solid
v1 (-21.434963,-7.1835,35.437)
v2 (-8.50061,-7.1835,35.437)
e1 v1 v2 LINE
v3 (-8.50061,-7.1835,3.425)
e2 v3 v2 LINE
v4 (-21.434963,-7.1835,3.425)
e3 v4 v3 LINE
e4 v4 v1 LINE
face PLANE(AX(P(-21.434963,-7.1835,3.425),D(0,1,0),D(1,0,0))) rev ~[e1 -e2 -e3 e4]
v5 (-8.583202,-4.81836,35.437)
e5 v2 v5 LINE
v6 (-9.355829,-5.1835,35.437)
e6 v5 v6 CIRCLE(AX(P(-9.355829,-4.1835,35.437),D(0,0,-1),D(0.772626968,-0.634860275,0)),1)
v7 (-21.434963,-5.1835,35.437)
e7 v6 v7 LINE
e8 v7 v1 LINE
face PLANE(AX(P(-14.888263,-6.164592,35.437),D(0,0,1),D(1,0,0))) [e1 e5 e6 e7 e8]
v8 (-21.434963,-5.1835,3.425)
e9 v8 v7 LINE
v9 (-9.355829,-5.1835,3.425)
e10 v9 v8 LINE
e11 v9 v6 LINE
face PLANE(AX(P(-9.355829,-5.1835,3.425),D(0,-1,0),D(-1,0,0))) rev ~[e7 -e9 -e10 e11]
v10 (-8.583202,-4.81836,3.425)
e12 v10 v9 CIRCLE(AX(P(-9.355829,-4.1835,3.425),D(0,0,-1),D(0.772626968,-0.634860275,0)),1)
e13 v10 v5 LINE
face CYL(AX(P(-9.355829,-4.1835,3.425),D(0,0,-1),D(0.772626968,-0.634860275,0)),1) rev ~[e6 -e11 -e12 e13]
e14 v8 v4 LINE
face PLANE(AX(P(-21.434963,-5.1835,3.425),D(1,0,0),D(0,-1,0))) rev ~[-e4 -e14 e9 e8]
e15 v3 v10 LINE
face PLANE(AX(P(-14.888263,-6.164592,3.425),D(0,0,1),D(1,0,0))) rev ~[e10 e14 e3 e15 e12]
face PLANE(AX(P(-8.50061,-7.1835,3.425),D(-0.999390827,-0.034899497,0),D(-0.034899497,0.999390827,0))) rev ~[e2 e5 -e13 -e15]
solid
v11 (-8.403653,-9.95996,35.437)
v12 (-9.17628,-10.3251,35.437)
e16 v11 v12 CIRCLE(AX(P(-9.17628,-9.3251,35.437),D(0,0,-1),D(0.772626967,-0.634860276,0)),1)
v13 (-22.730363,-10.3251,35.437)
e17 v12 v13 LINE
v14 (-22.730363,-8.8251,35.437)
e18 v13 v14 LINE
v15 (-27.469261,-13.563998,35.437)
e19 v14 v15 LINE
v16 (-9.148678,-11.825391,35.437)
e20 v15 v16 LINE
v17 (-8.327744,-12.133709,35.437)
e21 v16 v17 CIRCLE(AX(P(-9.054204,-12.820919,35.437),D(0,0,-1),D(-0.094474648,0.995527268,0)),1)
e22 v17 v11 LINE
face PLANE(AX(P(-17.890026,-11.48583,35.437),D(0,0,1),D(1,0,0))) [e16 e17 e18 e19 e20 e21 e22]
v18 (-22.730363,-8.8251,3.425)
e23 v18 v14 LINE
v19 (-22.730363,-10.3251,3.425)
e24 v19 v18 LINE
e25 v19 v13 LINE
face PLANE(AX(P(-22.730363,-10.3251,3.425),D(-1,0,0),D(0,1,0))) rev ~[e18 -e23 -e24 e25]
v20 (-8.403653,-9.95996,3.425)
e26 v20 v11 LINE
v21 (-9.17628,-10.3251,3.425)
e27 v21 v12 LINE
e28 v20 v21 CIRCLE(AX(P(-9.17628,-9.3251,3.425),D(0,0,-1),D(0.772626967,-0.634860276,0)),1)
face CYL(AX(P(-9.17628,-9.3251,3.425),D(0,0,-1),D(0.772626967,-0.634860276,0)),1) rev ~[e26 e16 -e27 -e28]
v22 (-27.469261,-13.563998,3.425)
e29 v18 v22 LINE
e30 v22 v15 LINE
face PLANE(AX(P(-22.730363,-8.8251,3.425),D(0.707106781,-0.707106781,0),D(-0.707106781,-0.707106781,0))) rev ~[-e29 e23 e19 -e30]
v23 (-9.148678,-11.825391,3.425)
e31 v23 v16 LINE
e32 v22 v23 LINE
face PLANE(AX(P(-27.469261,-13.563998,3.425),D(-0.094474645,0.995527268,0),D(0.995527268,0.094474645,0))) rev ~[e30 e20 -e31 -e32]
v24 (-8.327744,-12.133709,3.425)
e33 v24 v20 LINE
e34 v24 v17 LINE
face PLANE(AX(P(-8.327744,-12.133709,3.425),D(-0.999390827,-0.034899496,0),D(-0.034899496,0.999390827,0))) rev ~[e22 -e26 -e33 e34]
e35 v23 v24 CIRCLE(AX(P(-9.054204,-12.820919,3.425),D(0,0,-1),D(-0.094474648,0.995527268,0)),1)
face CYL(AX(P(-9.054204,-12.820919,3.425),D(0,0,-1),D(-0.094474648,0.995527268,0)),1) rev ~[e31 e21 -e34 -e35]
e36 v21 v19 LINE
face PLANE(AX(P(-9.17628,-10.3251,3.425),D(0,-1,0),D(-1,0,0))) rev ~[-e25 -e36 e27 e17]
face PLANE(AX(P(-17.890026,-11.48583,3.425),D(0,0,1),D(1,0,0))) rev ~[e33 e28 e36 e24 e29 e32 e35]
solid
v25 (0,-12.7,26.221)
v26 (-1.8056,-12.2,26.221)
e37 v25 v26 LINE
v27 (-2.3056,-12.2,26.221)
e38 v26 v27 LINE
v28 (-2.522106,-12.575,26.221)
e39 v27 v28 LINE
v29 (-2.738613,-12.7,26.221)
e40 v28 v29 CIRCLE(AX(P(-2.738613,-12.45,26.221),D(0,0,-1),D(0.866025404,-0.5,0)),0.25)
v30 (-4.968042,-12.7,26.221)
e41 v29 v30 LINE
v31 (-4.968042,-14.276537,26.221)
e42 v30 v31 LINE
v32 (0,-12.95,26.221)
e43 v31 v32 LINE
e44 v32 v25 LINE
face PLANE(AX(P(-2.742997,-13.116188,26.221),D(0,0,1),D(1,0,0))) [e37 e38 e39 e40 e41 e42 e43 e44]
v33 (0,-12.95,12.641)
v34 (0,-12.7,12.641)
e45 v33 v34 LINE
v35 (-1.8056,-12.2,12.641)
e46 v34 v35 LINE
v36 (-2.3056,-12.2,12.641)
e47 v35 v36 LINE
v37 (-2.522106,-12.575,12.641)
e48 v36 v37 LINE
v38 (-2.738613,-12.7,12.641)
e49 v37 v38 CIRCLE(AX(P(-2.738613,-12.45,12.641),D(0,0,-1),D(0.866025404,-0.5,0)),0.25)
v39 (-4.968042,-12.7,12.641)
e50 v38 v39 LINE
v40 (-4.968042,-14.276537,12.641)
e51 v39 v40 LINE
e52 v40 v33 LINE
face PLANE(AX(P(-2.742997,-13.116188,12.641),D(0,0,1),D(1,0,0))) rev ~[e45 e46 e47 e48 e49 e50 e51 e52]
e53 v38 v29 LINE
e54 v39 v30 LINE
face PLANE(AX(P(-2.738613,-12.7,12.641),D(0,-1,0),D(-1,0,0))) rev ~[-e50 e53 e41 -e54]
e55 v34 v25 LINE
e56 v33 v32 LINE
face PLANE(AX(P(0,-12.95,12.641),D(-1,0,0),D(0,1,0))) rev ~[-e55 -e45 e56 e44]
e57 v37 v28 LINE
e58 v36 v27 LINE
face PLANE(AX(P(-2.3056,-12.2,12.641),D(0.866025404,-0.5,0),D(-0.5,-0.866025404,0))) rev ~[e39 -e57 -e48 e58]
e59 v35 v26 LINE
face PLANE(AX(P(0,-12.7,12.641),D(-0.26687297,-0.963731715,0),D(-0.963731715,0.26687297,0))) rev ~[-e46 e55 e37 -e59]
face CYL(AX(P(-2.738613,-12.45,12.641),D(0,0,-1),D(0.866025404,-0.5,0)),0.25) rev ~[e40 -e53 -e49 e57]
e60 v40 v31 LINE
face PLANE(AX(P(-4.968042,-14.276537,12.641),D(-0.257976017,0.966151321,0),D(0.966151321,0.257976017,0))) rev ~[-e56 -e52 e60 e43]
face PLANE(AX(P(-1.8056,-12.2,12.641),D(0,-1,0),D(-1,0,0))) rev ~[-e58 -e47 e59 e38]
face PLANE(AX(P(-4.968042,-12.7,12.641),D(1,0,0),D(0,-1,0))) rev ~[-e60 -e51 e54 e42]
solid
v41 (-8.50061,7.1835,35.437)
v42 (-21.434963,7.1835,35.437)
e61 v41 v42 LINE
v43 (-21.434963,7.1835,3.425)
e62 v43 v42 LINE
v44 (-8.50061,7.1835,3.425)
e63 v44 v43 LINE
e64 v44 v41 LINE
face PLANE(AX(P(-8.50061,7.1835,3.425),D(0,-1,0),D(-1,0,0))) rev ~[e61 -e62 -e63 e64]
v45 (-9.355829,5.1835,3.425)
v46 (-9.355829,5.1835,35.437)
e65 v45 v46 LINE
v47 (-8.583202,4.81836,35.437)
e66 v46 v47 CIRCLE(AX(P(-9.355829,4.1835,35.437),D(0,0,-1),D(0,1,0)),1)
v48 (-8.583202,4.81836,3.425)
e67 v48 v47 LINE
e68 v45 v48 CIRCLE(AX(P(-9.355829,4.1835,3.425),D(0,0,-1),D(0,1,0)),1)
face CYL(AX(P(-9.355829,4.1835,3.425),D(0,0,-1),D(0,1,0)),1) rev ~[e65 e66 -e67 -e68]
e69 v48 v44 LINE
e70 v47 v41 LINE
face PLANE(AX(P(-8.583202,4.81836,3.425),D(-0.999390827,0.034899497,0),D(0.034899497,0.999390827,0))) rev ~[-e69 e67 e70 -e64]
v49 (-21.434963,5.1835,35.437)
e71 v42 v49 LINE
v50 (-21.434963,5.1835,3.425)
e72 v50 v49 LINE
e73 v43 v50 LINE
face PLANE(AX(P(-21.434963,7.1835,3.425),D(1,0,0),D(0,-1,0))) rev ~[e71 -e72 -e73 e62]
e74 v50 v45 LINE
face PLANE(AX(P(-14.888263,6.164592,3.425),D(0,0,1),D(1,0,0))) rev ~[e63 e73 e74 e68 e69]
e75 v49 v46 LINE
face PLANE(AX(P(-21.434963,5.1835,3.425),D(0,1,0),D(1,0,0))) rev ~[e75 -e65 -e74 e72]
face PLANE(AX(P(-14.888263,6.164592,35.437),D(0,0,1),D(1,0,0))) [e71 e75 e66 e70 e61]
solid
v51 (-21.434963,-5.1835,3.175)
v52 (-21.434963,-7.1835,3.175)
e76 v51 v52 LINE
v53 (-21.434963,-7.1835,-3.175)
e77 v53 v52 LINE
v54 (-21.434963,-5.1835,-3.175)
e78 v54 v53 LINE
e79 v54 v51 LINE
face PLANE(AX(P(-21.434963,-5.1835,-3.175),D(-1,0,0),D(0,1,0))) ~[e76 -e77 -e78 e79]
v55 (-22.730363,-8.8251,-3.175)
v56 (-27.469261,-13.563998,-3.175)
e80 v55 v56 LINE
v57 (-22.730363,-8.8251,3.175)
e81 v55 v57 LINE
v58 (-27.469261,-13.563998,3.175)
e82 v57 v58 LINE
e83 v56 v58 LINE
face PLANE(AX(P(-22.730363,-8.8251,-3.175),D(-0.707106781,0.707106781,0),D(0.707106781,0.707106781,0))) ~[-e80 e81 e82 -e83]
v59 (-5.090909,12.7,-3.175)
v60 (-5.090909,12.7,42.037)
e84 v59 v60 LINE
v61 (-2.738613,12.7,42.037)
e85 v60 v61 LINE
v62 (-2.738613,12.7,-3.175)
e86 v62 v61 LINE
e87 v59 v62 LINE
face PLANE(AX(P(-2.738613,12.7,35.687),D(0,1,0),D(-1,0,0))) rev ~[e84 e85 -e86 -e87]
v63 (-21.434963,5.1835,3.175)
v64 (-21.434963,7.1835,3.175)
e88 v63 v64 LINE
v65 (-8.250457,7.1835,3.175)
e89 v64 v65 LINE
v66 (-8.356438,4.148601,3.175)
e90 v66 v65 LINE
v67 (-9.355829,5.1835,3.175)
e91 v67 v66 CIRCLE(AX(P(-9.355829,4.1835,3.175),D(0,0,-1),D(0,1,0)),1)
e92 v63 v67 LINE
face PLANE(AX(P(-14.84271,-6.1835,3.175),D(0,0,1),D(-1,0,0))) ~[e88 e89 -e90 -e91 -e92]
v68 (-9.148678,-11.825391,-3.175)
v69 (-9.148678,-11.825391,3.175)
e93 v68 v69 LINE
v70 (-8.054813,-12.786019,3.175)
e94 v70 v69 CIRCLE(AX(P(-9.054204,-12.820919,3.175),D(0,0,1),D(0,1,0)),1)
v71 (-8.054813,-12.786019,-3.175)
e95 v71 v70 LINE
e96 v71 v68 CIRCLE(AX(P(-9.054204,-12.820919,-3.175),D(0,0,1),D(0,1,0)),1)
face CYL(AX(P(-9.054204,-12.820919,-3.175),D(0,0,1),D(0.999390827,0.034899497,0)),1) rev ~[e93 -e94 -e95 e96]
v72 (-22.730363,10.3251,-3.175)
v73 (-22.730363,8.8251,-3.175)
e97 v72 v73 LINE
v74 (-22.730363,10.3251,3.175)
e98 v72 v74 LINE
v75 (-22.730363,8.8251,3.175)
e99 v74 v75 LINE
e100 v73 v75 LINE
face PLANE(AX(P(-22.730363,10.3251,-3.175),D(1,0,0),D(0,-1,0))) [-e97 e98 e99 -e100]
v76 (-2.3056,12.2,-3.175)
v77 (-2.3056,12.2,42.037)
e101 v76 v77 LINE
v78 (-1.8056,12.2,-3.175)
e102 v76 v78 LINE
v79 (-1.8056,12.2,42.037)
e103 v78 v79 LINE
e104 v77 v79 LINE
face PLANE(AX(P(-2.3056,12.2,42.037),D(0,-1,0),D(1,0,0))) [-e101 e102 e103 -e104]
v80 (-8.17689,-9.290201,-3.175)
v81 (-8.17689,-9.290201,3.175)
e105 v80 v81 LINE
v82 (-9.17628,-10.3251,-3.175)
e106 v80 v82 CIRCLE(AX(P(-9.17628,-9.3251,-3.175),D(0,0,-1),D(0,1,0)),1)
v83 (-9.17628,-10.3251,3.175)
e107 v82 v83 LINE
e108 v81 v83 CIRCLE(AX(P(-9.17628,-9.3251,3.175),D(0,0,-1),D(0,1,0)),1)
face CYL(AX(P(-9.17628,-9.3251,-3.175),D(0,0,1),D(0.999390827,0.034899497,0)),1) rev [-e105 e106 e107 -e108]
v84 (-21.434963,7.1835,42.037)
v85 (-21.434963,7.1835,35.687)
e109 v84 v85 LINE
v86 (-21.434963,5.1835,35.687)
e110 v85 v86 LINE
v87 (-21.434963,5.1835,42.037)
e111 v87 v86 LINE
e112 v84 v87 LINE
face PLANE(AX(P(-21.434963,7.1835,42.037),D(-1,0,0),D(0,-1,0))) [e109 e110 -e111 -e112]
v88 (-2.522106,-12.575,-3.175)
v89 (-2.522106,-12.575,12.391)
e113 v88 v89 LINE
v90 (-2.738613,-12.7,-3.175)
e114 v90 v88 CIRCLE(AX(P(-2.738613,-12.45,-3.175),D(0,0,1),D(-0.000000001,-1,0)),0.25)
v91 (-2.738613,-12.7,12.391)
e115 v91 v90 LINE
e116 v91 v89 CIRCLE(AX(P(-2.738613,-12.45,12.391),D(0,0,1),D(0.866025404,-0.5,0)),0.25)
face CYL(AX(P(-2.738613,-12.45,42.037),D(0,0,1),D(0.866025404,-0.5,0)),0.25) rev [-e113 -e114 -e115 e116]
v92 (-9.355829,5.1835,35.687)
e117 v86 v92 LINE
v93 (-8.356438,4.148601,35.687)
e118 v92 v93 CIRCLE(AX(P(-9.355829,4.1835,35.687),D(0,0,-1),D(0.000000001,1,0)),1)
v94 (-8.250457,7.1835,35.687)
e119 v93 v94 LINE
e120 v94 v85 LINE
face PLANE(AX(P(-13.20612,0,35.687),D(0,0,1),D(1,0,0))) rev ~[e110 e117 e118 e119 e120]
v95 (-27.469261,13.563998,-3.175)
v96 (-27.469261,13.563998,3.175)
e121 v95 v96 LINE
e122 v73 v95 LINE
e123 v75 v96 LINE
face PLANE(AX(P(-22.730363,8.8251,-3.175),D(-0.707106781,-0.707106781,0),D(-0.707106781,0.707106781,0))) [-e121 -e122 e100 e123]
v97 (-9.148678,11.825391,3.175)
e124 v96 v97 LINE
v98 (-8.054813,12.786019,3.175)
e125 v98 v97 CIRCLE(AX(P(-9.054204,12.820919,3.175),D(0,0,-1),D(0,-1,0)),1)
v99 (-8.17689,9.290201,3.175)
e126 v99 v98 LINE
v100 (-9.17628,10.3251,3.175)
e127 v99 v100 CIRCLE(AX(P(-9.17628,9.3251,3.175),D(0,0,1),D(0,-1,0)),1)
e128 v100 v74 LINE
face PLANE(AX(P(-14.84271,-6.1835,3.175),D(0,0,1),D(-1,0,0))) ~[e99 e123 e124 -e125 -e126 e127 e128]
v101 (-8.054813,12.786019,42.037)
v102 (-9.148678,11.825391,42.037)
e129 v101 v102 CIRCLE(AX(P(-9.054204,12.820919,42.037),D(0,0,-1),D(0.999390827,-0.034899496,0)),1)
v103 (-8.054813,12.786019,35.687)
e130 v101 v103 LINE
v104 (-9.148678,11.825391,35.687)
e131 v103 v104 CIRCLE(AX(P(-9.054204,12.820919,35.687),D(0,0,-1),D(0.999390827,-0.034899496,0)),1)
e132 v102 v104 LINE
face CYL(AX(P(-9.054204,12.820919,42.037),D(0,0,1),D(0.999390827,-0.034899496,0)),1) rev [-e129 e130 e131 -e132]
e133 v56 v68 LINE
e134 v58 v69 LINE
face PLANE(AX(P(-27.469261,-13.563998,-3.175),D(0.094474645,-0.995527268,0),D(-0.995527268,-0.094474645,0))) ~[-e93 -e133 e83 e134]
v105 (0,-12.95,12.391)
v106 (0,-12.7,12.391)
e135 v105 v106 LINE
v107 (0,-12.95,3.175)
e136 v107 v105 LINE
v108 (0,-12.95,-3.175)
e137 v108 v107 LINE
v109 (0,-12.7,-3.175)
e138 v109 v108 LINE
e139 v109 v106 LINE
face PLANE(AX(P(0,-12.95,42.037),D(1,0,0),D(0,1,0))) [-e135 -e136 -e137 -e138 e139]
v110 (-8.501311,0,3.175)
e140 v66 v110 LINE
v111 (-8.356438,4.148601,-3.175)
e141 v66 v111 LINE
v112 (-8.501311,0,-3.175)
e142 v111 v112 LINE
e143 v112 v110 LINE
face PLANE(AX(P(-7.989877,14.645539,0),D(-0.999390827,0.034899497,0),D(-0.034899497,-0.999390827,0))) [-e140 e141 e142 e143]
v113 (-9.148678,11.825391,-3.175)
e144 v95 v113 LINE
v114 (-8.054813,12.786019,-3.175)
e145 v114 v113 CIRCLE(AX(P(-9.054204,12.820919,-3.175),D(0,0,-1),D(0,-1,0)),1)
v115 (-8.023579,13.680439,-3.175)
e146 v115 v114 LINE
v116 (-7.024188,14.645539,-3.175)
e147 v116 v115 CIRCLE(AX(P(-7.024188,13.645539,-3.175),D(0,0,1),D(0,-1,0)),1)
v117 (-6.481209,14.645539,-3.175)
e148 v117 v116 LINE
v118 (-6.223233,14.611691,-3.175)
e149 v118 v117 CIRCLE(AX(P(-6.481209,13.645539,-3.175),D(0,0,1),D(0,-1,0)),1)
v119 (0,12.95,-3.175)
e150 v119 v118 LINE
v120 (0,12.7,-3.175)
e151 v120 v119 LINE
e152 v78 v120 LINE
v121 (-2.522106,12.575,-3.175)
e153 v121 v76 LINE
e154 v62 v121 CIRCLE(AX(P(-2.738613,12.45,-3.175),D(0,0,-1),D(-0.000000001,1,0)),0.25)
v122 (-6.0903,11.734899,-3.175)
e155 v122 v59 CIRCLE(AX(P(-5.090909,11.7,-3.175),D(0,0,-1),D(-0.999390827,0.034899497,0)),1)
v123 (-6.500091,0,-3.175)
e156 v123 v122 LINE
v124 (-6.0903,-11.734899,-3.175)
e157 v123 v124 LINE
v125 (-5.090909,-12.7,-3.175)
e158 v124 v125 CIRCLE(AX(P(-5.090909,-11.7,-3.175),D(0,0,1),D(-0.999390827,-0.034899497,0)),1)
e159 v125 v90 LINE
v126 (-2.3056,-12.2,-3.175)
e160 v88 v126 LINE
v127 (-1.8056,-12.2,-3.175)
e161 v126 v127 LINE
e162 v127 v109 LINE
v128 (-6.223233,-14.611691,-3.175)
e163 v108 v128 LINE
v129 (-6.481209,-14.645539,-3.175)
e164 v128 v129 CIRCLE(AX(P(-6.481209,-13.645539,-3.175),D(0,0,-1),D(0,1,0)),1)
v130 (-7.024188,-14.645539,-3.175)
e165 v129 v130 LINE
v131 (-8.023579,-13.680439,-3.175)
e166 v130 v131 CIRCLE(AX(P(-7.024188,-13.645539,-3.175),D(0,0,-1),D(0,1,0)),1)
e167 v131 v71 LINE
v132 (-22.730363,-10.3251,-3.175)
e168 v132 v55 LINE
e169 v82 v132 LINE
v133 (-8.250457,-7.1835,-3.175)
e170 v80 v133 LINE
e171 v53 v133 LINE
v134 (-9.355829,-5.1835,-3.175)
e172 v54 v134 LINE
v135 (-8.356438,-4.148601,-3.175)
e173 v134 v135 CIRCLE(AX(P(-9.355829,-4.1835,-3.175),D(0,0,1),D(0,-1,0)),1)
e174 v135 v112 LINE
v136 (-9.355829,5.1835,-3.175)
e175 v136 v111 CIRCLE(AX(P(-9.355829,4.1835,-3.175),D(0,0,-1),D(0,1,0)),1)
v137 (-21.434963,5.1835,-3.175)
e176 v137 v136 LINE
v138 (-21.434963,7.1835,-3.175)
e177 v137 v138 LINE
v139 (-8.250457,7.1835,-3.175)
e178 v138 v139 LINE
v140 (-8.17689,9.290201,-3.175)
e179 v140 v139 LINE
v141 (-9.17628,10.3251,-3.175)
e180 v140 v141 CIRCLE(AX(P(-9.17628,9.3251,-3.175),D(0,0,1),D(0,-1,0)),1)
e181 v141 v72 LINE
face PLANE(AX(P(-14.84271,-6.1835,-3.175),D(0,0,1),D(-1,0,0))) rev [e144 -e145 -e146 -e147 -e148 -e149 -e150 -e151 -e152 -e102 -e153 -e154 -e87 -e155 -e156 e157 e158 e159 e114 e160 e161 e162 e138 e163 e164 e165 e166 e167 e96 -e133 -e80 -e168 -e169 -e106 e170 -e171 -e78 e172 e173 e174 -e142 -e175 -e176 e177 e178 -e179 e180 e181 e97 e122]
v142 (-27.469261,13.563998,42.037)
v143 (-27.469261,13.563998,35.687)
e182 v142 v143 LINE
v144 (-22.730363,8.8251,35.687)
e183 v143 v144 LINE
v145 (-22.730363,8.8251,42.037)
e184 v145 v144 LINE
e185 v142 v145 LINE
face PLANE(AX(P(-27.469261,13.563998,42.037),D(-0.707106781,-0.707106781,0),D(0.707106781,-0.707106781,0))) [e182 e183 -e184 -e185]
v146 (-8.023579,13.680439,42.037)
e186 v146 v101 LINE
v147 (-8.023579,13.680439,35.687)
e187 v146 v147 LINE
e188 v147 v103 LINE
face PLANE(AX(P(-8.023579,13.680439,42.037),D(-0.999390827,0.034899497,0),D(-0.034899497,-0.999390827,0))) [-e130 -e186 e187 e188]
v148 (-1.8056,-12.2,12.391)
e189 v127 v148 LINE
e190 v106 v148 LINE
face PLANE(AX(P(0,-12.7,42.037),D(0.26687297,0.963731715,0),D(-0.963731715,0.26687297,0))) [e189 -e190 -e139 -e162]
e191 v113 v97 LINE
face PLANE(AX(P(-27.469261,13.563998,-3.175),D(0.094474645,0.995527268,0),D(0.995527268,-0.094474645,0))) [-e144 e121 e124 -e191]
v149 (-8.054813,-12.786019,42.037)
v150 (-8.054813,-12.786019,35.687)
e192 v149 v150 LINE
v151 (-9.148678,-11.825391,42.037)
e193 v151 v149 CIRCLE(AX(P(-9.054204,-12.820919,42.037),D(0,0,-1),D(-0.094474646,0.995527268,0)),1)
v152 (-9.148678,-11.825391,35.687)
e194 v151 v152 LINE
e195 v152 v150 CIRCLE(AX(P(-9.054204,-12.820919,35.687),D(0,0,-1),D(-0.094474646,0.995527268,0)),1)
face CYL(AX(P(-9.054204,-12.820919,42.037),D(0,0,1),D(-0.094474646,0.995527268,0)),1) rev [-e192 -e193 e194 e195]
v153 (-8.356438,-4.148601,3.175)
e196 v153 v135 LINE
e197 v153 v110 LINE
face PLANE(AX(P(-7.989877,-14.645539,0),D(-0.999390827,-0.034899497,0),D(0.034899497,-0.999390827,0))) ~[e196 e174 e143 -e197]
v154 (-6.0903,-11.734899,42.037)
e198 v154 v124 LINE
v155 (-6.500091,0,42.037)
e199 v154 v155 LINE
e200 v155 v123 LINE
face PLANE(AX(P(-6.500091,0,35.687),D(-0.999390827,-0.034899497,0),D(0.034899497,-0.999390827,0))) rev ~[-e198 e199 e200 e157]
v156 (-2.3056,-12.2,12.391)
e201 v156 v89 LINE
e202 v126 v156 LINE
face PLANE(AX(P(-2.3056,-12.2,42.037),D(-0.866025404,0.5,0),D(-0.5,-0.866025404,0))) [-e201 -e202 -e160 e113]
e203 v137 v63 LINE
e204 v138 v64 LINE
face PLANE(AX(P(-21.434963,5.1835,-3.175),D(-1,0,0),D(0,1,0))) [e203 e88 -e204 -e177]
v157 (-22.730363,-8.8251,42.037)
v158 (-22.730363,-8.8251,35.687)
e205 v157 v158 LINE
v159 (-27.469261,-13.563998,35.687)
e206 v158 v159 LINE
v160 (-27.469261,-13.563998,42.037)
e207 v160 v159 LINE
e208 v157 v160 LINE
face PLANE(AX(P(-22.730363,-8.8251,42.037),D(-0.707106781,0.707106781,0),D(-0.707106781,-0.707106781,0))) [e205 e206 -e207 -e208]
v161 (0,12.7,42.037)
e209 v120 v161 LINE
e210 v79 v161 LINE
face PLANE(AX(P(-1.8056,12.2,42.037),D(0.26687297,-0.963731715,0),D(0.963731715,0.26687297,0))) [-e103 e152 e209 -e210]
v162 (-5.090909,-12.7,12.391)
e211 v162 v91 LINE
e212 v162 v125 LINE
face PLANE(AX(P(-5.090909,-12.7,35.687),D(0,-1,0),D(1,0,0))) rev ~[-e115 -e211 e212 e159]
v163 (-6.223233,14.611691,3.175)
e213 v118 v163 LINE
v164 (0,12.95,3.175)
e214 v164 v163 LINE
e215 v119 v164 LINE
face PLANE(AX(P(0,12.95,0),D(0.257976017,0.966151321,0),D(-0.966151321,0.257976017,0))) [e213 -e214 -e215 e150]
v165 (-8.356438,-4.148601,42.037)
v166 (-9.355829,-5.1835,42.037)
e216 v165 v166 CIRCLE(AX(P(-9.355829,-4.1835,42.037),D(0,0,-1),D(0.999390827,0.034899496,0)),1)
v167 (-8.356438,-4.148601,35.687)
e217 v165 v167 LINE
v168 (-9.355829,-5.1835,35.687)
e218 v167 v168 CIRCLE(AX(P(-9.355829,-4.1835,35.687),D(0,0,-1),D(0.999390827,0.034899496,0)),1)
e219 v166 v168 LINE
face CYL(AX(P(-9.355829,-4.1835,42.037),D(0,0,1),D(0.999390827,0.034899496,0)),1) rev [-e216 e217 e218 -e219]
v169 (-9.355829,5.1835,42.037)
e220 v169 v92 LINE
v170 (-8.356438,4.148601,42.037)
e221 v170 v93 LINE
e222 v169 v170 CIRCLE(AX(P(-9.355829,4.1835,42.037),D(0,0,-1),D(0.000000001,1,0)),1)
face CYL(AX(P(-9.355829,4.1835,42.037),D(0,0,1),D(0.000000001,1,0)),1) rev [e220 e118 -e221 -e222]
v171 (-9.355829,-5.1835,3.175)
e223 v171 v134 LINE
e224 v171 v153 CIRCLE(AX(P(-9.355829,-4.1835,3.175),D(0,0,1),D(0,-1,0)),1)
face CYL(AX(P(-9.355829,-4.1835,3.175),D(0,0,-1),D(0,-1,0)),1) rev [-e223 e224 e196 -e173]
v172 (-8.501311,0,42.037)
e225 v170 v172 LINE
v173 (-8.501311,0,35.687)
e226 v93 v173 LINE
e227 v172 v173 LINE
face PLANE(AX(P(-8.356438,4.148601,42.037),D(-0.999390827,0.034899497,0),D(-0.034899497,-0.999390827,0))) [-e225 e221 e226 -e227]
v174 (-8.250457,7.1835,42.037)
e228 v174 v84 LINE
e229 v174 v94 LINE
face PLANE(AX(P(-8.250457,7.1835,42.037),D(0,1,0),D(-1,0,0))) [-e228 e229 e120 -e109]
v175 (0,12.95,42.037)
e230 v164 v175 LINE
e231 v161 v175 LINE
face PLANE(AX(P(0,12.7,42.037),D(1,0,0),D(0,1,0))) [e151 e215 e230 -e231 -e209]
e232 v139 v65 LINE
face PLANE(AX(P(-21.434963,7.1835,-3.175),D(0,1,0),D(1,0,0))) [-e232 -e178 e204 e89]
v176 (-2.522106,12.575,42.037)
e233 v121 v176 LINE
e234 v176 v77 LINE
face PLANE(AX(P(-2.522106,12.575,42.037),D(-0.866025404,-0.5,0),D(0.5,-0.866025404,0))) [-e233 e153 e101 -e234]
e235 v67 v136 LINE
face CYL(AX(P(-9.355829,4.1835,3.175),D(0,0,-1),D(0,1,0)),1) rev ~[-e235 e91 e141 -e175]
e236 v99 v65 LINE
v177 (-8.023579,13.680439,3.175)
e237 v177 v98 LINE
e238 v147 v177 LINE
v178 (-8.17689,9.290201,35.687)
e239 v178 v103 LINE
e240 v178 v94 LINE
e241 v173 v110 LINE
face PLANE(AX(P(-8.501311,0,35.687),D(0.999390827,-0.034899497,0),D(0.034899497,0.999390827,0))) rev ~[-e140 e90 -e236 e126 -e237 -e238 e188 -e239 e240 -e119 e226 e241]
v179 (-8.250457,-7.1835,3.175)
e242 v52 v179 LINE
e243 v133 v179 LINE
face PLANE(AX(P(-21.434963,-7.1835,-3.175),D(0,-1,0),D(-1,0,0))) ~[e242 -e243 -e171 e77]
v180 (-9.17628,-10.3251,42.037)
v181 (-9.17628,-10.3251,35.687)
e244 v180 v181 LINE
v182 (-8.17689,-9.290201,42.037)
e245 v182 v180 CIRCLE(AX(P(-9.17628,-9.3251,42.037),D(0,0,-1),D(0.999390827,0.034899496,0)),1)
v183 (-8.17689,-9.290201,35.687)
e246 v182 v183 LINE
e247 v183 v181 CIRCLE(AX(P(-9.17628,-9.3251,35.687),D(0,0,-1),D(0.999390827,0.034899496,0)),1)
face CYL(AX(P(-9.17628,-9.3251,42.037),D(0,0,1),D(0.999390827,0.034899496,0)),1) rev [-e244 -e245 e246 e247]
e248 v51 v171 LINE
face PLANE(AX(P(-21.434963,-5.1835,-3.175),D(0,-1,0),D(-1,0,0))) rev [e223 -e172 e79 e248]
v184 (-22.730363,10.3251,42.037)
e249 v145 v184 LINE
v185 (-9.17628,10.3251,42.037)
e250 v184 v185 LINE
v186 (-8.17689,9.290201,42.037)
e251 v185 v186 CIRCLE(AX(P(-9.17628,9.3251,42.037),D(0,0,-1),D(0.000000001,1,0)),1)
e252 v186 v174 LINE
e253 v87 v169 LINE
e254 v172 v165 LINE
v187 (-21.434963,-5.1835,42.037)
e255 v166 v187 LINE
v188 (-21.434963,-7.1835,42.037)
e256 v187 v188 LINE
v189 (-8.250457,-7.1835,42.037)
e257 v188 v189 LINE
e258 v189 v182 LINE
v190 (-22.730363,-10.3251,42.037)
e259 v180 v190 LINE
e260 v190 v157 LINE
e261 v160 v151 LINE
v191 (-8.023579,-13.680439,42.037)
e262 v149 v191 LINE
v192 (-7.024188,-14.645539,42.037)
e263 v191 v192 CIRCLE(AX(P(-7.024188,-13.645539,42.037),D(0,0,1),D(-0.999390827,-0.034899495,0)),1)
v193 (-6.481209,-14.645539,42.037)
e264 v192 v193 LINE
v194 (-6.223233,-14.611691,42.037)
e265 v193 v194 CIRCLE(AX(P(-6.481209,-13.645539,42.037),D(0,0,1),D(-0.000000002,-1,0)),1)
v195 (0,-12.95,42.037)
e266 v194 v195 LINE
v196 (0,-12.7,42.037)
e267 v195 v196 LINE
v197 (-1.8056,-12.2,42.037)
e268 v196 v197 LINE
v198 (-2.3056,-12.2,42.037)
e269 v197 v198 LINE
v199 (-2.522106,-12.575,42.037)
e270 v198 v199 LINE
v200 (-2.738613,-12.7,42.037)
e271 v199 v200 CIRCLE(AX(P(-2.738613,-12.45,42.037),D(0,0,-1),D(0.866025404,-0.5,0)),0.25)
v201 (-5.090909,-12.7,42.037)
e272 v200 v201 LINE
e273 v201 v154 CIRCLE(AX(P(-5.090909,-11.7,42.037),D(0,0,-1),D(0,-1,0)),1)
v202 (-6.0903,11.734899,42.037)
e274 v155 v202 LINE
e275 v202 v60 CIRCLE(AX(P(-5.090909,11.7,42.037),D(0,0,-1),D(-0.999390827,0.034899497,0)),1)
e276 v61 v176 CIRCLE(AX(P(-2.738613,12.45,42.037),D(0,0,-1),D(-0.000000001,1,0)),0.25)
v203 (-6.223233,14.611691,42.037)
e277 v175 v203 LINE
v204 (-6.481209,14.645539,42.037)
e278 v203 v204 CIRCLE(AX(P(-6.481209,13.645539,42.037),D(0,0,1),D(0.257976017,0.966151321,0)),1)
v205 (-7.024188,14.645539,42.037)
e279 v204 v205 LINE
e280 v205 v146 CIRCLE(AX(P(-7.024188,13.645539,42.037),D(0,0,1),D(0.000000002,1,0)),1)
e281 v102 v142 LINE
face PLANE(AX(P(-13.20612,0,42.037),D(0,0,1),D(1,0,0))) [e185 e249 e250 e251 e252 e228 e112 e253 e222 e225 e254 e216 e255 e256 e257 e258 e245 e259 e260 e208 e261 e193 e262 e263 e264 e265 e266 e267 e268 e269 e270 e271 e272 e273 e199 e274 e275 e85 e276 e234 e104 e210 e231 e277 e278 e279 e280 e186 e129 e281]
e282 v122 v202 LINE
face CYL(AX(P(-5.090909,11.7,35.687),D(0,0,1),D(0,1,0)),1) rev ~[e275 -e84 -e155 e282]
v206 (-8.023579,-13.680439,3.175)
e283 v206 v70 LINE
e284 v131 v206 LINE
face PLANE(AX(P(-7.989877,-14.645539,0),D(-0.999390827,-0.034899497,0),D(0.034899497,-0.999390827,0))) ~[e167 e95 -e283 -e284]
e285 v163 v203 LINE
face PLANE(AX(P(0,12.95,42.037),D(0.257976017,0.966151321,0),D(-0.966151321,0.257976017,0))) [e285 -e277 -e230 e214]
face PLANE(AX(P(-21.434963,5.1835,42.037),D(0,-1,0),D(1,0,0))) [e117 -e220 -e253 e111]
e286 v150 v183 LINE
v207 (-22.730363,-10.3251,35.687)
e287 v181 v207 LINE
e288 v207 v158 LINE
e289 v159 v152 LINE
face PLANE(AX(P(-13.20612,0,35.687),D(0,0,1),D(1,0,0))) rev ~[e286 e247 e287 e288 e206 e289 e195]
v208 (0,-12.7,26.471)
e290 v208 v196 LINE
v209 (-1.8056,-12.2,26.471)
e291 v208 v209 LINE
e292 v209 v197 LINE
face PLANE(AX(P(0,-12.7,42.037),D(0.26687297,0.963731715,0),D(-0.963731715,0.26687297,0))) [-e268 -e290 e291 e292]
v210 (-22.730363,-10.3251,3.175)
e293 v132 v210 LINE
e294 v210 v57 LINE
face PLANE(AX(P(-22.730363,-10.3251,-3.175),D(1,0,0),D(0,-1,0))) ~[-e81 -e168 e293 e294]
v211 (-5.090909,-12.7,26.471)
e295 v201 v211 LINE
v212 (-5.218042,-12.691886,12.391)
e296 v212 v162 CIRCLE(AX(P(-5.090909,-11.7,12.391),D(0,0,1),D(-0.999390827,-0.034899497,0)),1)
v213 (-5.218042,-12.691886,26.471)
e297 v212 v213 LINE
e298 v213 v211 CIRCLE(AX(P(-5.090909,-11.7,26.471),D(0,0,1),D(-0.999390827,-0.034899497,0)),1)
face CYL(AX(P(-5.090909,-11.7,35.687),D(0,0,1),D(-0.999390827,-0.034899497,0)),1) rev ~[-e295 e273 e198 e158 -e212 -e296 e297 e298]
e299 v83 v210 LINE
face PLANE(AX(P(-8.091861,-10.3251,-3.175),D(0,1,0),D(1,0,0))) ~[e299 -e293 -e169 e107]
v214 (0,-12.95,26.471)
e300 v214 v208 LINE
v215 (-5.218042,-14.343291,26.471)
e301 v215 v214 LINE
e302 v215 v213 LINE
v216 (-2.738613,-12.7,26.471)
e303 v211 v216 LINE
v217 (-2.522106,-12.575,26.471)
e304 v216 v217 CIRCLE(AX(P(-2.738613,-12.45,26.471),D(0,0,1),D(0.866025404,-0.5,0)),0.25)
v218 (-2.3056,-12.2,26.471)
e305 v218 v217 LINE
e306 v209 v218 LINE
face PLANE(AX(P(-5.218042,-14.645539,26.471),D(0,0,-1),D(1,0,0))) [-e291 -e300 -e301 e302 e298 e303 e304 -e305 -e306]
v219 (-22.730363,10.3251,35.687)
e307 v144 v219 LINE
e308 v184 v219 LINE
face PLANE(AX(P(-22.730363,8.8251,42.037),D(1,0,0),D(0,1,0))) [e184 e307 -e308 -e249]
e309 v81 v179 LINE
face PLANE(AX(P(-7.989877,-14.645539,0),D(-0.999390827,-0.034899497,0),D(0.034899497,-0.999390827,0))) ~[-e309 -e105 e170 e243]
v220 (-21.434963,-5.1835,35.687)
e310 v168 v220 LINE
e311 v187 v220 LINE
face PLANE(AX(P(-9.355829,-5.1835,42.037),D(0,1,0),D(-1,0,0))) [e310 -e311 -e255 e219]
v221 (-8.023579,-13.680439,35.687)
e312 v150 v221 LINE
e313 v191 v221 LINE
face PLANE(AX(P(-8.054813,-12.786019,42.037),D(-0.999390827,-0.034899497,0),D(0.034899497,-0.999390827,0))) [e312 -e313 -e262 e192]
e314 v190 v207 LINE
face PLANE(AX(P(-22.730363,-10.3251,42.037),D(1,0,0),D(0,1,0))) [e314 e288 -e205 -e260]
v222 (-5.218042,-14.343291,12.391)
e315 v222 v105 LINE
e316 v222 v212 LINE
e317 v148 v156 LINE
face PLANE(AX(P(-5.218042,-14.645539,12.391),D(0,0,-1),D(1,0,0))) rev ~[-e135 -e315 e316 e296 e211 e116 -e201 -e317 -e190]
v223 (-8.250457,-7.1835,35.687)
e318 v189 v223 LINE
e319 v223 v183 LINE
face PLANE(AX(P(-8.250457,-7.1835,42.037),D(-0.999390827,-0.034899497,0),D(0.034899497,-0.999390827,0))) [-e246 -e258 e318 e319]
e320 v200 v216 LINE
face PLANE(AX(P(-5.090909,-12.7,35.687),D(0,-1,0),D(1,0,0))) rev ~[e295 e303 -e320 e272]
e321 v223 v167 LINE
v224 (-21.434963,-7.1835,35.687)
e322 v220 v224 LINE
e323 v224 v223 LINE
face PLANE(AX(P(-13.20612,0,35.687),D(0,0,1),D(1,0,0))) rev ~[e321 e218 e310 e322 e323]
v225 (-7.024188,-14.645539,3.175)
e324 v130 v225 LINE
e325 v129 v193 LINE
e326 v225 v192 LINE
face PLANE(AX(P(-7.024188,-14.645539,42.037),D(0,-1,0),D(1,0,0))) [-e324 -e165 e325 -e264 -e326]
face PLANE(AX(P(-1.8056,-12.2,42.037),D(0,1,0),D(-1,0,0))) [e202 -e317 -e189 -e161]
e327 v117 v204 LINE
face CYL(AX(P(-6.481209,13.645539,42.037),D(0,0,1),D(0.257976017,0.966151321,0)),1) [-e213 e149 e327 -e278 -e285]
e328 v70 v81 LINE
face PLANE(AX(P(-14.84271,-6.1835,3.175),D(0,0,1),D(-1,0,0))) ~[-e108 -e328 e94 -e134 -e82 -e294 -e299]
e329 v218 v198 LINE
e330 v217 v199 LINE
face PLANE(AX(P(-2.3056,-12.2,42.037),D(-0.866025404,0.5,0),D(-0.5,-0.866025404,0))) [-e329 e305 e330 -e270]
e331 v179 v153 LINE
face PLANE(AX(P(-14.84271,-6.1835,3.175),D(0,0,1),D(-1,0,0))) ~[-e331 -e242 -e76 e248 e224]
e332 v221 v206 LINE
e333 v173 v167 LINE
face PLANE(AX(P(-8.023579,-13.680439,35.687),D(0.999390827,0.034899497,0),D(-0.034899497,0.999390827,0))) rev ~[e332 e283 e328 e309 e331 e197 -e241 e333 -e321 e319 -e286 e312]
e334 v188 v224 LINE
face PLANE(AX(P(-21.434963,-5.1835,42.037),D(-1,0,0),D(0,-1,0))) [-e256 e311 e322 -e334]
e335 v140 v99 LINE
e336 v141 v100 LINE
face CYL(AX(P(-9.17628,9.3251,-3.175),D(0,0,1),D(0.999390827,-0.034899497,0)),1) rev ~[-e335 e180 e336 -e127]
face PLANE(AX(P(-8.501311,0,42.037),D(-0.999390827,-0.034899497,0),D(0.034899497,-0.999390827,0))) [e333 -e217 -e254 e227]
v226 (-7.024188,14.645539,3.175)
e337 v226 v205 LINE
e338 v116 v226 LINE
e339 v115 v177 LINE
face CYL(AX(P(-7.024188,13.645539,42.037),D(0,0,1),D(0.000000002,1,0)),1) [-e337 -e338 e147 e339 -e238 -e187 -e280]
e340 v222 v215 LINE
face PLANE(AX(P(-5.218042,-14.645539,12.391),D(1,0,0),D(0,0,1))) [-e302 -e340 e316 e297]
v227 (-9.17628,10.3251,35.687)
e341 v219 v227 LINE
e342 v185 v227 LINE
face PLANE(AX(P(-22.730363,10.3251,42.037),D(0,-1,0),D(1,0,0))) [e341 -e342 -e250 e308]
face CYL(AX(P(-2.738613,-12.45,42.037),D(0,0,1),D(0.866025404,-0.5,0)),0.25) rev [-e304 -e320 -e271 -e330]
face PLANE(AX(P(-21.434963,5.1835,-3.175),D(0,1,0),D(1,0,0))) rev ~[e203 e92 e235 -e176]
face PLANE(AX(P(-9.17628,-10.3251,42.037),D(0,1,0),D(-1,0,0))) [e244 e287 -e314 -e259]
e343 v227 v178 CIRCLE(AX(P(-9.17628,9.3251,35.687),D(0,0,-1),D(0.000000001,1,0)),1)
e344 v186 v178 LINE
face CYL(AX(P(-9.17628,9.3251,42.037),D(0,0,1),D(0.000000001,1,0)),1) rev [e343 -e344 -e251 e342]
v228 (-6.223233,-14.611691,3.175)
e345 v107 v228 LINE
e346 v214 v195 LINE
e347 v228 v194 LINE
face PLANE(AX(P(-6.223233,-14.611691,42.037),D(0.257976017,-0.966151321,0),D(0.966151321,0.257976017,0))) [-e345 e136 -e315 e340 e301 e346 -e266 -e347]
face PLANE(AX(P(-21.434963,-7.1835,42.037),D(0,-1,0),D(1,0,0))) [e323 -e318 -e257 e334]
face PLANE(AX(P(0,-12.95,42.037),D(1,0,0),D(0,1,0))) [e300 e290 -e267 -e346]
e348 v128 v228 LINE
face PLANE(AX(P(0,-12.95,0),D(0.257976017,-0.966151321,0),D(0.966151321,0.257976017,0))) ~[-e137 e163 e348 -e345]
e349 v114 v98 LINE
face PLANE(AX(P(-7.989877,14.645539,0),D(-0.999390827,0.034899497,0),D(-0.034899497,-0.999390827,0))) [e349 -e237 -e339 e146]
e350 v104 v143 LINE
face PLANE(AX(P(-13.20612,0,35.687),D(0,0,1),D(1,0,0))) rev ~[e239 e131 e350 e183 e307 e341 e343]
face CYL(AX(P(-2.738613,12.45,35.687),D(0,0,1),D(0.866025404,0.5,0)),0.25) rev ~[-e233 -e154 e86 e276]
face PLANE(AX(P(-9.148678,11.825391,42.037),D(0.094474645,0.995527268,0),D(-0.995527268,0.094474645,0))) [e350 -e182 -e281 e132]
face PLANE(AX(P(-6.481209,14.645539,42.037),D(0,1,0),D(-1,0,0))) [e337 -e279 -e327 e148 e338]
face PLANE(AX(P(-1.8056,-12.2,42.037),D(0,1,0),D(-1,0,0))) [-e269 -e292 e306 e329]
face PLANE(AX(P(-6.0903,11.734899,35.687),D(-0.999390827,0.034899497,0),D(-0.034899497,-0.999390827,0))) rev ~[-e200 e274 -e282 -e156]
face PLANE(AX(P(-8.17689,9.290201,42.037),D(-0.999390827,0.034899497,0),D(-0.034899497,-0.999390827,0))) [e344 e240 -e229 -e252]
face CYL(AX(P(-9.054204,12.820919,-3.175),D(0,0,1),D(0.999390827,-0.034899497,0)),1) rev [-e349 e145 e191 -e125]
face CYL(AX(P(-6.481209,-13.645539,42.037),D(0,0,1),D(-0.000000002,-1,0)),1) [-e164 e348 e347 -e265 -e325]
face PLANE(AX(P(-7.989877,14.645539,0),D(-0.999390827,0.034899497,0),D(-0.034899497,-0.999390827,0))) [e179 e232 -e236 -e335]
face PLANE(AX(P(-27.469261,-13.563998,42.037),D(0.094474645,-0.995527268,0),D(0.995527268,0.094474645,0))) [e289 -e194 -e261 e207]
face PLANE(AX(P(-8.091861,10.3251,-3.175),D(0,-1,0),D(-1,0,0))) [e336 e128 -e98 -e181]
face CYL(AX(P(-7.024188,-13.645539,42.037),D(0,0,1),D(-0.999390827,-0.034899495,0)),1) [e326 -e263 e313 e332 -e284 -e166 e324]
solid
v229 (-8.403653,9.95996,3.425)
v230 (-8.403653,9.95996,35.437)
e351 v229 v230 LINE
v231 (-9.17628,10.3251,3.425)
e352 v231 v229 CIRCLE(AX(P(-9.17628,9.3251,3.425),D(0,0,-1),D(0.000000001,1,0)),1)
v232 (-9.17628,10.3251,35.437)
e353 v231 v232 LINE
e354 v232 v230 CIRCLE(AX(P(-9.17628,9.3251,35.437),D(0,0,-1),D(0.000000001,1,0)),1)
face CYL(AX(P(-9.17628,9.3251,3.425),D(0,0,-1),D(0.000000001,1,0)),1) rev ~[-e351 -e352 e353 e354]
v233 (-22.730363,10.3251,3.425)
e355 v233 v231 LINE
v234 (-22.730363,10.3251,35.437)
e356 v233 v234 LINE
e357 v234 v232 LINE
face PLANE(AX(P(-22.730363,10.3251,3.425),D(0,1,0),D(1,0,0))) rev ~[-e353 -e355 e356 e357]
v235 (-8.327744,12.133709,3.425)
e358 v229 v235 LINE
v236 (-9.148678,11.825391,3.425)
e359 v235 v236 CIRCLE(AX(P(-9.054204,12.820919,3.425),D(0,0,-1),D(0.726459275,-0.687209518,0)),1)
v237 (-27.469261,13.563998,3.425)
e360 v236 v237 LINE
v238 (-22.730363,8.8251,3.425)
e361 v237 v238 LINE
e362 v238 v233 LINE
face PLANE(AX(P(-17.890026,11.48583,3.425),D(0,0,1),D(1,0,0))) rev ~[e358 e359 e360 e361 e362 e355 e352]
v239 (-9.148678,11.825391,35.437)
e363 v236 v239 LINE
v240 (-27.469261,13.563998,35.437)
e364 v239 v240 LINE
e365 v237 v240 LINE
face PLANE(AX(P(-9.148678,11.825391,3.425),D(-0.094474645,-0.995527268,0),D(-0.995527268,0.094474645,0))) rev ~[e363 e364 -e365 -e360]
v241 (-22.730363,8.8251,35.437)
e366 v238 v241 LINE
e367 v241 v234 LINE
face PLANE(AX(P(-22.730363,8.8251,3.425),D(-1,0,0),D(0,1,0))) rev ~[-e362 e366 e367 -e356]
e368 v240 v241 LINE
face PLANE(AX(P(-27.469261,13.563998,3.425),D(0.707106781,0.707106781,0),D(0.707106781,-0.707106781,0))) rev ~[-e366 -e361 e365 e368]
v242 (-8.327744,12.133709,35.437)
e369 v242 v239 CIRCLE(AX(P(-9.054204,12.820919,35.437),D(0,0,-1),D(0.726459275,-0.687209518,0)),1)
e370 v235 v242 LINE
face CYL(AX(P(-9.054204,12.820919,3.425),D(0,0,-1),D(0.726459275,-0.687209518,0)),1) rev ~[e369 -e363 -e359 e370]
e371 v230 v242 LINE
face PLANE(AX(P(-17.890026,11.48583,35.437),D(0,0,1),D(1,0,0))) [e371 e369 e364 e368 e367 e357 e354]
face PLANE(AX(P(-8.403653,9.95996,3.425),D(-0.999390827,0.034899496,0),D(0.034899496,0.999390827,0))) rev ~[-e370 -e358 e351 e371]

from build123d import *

# Parameters (mm, degrees)
BOSS_EXTRUDE1_DEPTH     = 3.175
BOSS_EXTRUDE2_START     = -3.175
BOSS_EXTRUDE2_DEPTH     = 6.35
BOSS_EXTRUDE3_START     = -3.175
SKETCH3_W               = 13.184505581
SKETCH3_H               = 2
BOSS_EXTRUDE3_DEPTH     = 6.35
FILLET1_R               = 1
CUT_EXTRUDE4_DEPTH      = 32.291096892
CUT_EXTRUDE4_DEPTH_BACK = 32.291096892
SKETCH9_W               = 14.645539482
SKETCH9_H               = 14.645539482
BOSS_EXTRUDE4_DEPTH     = 6.35
BOSS_EXTRUDE5_START     = 32.512
BOSS_EXTRUDE5_DEPTH     = 32.512
SKETCH12_W              = 7.595900531
SKETCH12_H              = 14.08
CUT_EXTRUDE5_DEPTH      = 6.35
BOSS_EXTRUDE6_DEPTH     = 32.011999992
BOSS_EXTRUDE6_2_DEPTH   = 32.011999992
BOSS_EXTRUDE6_3_DEPTH   = 32.011999992
BOSS_EXTRUDE6_4_DEPTH   = 32.011999992
BOSS_EXTRUDE7_DEPTH     = 13.579999992


with BuildPart() as part:
    # Sketch1 → Boss-Extrude1 (new, symmetric)
    with BuildSketch(Plane.XY):
        with BuildLine():
            Line((-6.500091432, 0), (-6.090299711, 11.734899497))
            ThreePointArc((-6.090299711, 11.734899497), (-5.785567255, 12.4193398), (-5.090908884, 12.7))
            Line((-5.090908884, 12.7), (-3.975128678, 12.7))
            Line((-3.975128678, 12.7), (-2.738612788, 12.7))
            ThreePointArc((-2.738612788, 12.7), (-2.613612788, 12.666506351), (-2.522106437, 12.575))
            Line((-2.522106437, 12.575), (-2.305600086, 12.2))
            Line((-2.305600086, 12.2), (-1.805600086, 12.2))
            Line((-1.805600086, 12.2), (0, 12.7))
            Line((0, 12.7), (0, 12.95))
            Line((0, 12.95), (-6.35, 14.645539482))
            Line((-6.35, 14.645539482), (-7.989877012, 14.645539482))
            Line((-7.989877012, 14.645539482), (-8.50131052, 0))
            Line((-8.50131052, 0), (-7.989877012, -14.645539482))
            Line((-7.989877012, -14.645539482), (-6.35, -14.645539482))
            Line((-6.35, -14.645539482), (0, -12.95))
            Line((0, -12.95), (0, -12.7))
            Line((0, -12.7), (-1.805600086, -12.2))
            Line((-1.805600086, -12.2), (-2.305600086, -12.2))
            Line((-2.305600086, -12.2), (-2.522106437, -12.575))
            ThreePointArc((-2.522106437, -12.575), (-2.613612788, -12.666506351), (-2.738612788, -12.7))
            Line((-2.738612788, -12.7), (-3.975128678, -12.7))
            Line((-3.975128678, -12.7), (-5.090908884, -12.7))
            ThreePointArc((-5.090908884, -12.7), (-5.785567255, -12.4193398), (-6.090299711, -11.734899497))
            Line((-6.090299711, -11.734899497), (-6.500091432, 0))
        make_face()
    extrude(amount=BOSS_EXTRUDE1_DEPTH, both=True)

    # Sketch2 → Boss-Extrude2 (add)
    with BuildSketch(Plane.XY.offset(BOSS_EXTRUDE2_START)):
        Polygon((-22.730362754, 10.3251), (-22.730362754, 8.8251), (-27.469260875, 13.563998121), (-8.091860997, 11.725100248), (-8.091860997, 10.3251), align=None)
    extrude(amount=BOSS_EXTRUDE2_DEPTH)

    # Sketch3 → Boss-Extrude3 (add)
    with BuildSketch(Plane.XY.offset(BOSS_EXTRUDE3_START)):
        with Locations((-14.842709964, 6.1835)):
            Rectangle(SKETCH3_W, SKETCH3_H)
    extrude(amount=BOSS_EXTRUDE3_DEPTH)

    # Fillet1
    fillet1_edges = [part.edges().sort_by_distance(p)[0] for p in [
        (-7.989877012, 14.645539482, 0),
        (-6.35, 14.645539482, 0),
        (-8.140750083, 10.3251, 0),
        (-8.091860997, 11.725100248, 0),
        (-8.320298712, 5.1835, 0),
    ]]
    fillet(fillet1_edges, radius=FILLET1_R)

    # Sketch9 → Cut-Extrude4 (cut, two sides: drawn at the far end of the back side and taken through both)
    with BuildSketch(Plane.XY.offset(-CUT_EXTRUDE4_DEPTH_BACK)):
        with Locations((-7.322769741, -7.322769741)):
            Rectangle(SKETCH9_W, SKETCH9_H)
    extrude(amount=CUT_EXTRUDE4_DEPTH + CUT_EXTRUDE4_DEPTH_BACK, mode=Mode.SUBTRACT)

    # Mirror2: part across plane


with BuildPart() as part_1:
    add(part.part)
    add(part.part.mirror(Plane.ZX))



with BuildPart() as body_2:
    # Sketch10 → Boss-Extrude4 (new body)
    with BuildSketch(Plane.XY.offset(42.037)):
        with BuildLine():
            Line((-8.356438198, 4.148600503), (-8.50131052, 0))
            Line((-8.50131052, 0), (-8.356438198, -4.148600503))
            ThreePointArc((-8.356438198, -4.148600503), (-8.636489225, -4.87815837), (-9.355829025, -5.1835))
            Line((-9.355829025, -5.1835), (-21.434962754, -5.1835))
            Line((-21.434962754, -5.1835), (-21.434962754, -7.1835))
            Line((-21.434962754, -7.1835), (-8.250457173, -7.1835))
            Line((-8.250457173, -7.1835), (-8.17688957, -9.290200503))
            ThreePointArc((-8.17688957, -9.290200503), (-8.456940597, -10.01975837), (-9.176280397, -10.3251))
            Line((-9.176280397, -10.3251), (-22.730362754, -10.3251))
            Line((-22.730362754, -10.3251), (-22.730362754, -8.8251))
            Line((-22.730362754, -8.8251), (-27.469260875, -13.563998121))
            Line((-27.469260875, -13.563998121), (-9.148678369, -11.825391269))
            ThreePointArc((-9.148678369, -11.825391269), (-8.394340289, -12.069532985), (-8.054812897, -12.78601904))
            Line((-8.054812897, -12.78601904), (-8.023579064, -13.680438979))
            ThreePointArc((-8.023579064, -13.680438979), (-7.718846608, -14.364879283), (-7.024188237, -14.645539482))
            Line((-7.024188237, -14.645539482), (-6.481208628, -14.645539482))
            ThreePointArc((-6.481208628, -14.645539482), (-6.351115048, -14.637041202), (-6.223232611, -14.611690803))
            Line((-6.223232611, -14.611690803), (0, -12.95))
            Line((0, -12.95), (0, -12.7))
            Line((0, -12.7), (-1.805600086, -12.2))
            Line((-1.805600086, -12.2), (-2.305600086, -12.2))
            Line((-2.305600086, -12.2), (-2.522106437, -12.575))
            ThreePointArc((-2.522106437, -12.575), (-2.613612788, -12.666506351), (-2.738612788, -12.7))
            Line((-2.738612788, -12.7), (-5.090908884, -12.7))
            ThreePointArc((-5.090908884, -12.7), (-5.785567255, -12.4193398), (-6.090299711, -11.734899497))
            Line((-6.090299711, -11.734899497), (-6.500091432, 0))
            Line((-6.500091432, 0), (-6.090299711, 11.734899497))
            ThreePointArc((-6.090299711, 11.734899497), (-5.785567255, 12.4193398), (-5.090908884, 12.7))
            Line((-5.090908884, 12.7), (-2.738612788, 12.7))
            ThreePointArc((-2.738612788, 12.7), (-2.613612788, 12.666506351), (-2.522106437, 12.575))
            Line((-2.522106437, 12.575), (-2.305600086, 12.2))
            Line((-2.305600086, 12.2), (-1.805600086, 12.2))
            Line((-1.805600086, 12.2), (0, 12.7))
            Line((0, 12.7), (0, 12.95))
            Line((0, 12.95), (-6.223232611, 14.611690803))
            ThreePointArc((-6.223232611, 14.611690803), (-6.351115048, 14.637041202), (-6.481208628, 14.645539482))
            Line((-6.481208628, 14.645539482), (-7.024188237, 14.645539482))
            ThreePointArc((-7.024188237, 14.645539482), (-7.718846608, 14.364879283), (-8.023579064, 13.680438979))
            Line((-8.023579064, 13.680438979), (-8.054812897, 12.78601904))
            ThreePointArc((-8.054812897, 12.78601904), (-8.394340289, 12.069532985), (-9.148678369, 11.825391269))
            Line((-9.148678369, 11.825391269), (-27.469260875, 13.563998121))
            Line((-27.469260875, 13.563998121), (-22.730362754, 8.8251))
            Line((-22.730362754, 8.8251), (-22.730362754, 10.3251))
            Line((-22.730362754, 10.3251), (-9.176280397, 10.3251))
            ThreePointArc((-9.176280397, 10.3251), (-8.456940597, 10.01975837), (-8.17688957, 9.290200503))
            Line((-8.17688957, 9.290200503), (-8.250457173, 7.1835))
            Line((-8.250457173, 7.1835), (-21.434962754, 7.1835))
            Line((-21.434962754, 7.1835), (-21.434962754, 5.1835))
            Line((-21.434962754, 5.1835), (-9.355829025, 5.1835))
            ThreePointArc((-9.355829025, 5.1835), (-8.636489225, 4.87815837), (-8.356438198, 4.148600503))
        make_face()
    extrude(amount=-BOSS_EXTRUDE4_DEPTH)


with BuildPart() as part_2:
    add(part_1.part)

    add(body_2.part)  # Boss-Extrude5 merges body 2
    # Sketch11 → Boss-Extrude5 (add)
    with BuildSketch(Plane.XY.offset(3.175).offset(BOSS_EXTRUDE5_START)):
        with BuildLine():
            Line((-6.090299711, 11.734899497), (-6.500091432, 0))
            Line((-6.500091432, 0), (-6.090299711, -11.734899497))
            ThreePointArc((-6.090299711, -11.734899497), (-5.785567255, -12.4193398), (-5.090908884, -12.7))
            Line((-5.090908884, -12.7), (-2.738612788, -12.7))
            ThreePointArc((-2.738612788, -12.7), (-2.613612788, -12.666506351), (-2.522106437, -12.575))
            Line((-2.522106437, -12.575), (-2.305600086, -12.2))
            Line((-2.305600086, -12.2), (-1.805600086, -12.2))
            Line((-1.805600086, -12.2), (0, -12.7))
            Line((0, -12.7), (0, -12.95))
            Line((0, -12.95), (-6.223232611, -14.611690803))
            ThreePointArc((-6.223232611, -14.611690803), (-6.351115048, -14.637041202), (-6.481208628, -14.645539482))
            Line((-6.481208628, -14.645539482), (-7.024188237, -14.645539482))
            ThreePointArc((-7.024188237, -14.645539482), (-7.718846608, -14.364879283), (-8.023579064, -13.680438979))
            Line((-8.023579064, -13.680438979), (-8.50131052, 0))
            Line((-8.50131052, 0), (-8.023579064, 13.680438979))
            ThreePointArc((-8.023579064, 13.680438979), (-7.718846608, 14.364879283), (-7.024188237, 14.645539482))
            Line((-7.024188237, 14.645539482), (-6.481208628, 14.645539482))
            ThreePointArc((-6.481208628, 14.645539482), (-6.351115048, 14.637041202), (-6.223232611, 14.611690803))
            Line((-6.223232611, 14.611690803), (0, 12.95))
            Line((0, 12.95), (0, 12.7))
            Line((0, 12.7), (-1.805600086, 12.2))
            Line((-1.805600086, 12.2), (-2.305600086, 12.2))
            Line((-2.305600086, 12.2), (-2.522106437, 12.575))
            ThreePointArc((-2.522106437, 12.575), (-2.613612788, 12.666506351), (-2.738612788, 12.7))
            Line((-2.738612788, 12.7), (-5.090908884, 12.7))
            ThreePointArc((-5.090908884, 12.7), (-5.785567255, 12.4193398), (-6.090299711, 11.734899497))
        make_face()
    extrude(amount=-BOSS_EXTRUDE5_DEPTH)

    # Sketch12 → Cut-Extrude5 (cut)
    with BuildSketch(Plane.XZ.offset(14.645539482)):
        with Locations((-1.420091432, 19.431)):
            Rectangle(SKETCH12_W, SKETCH12_H)
    extrude(amount=-CUT_EXTRUDE5_DEPTH, mode=Mode.SUBTRACT)


with BuildPart() as body_2_2:
    # Sketch13 → Boss-Extrude6 (new body)
    with BuildSketch(Plane.XY.offset(3.425000008)):
        with BuildLine():
            Line((-8.327744451, -12.133709017), (-8.403653429, -9.959960275))
            ThreePointArc((-8.403653429, -9.959960275), (-8.74899845, -10.229218431), (-9.176280397, -10.3251))
            Line((-9.176280397, -10.3251), (-22.730362754, -10.3251))
            Line((-22.730362754, -10.3251), (-22.730362754, -8.8251))
            Line((-22.730362754, -8.8251), (-27.469260875, -13.563998121))
            Line((-27.469260875, -13.563998121), (-9.148678369, -11.825391269))
            ThreePointArc((-9.148678369, -11.825391269), (-8.702612909, -11.884764757), (-8.327744451, -12.133709017))
        make_face()
    extrude(amount=BOSS_EXTRUDE6_DEPTH)


with BuildPart() as body_3:
    # Sketch13 → Boss-Extrude6 2 (new body)
    with BuildSketch(Plane.XY.offset(3.425000008)):
        with BuildLine():
            Line((-21.434962754, -7.1835), (-8.500609559, -7.1835))
            Line((-8.500609559, -7.1835), (-8.583202058, -4.818360275))
            ThreePointArc((-8.583202058, -4.818360275), (-8.928547078, -5.087618431), (-9.355829025, -5.1835))
            Line((-9.355829025, -5.1835), (-21.434962754, -5.1835))
            Line((-21.434962754, -5.1835), (-21.434962754, -7.1835))
        make_face()
    extrude(amount=BOSS_EXTRUDE6_2_DEPTH)


with BuildPart() as body_4:
    # Sketch13 → Boss-Extrude6 3 (new body)
    with BuildSketch(Plane.XY.offset(3.425000008)):
        with BuildLine():
            Line((-8.583202058, 4.818360275), (-8.500609559, 7.1835))
            Line((-8.500609559, 7.1835), (-21.434962754, 7.1835))
            Line((-21.434962754, 7.1835), (-21.434962754, 5.1835))
            Line((-21.434962754, 5.1835), (-9.355829025, 5.1835))
            ThreePointArc((-9.355829025, 5.1835), (-8.928547078, 5.087618431), (-8.583202058, 4.818360275))
        make_face()
    extrude(amount=BOSS_EXTRUDE6_3_DEPTH)


with BuildPart() as body_5:
    # Sketch13 → Boss-Extrude6 4 (new body)
    with BuildSketch(Plane.XY.offset(3.425000008)):
        with BuildLine():
            Line((-8.403653429, 9.959960275), (-8.327744451, 12.133709017))
            ThreePointArc((-8.327744451, 12.133709017), (-8.702612909, 11.884764757), (-9.148678369, 11.825391269))
            Line((-9.148678369, 11.825391269), (-27.469260875, 13.563998121))
            Line((-27.469260875, 13.563998121), (-22.730362754, 8.8251))
            Line((-22.730362754, 8.8251), (-22.730362754, 10.3251))
            Line((-22.730362754, 10.3251), (-9.176280397, 10.3251))
            ThreePointArc((-9.176280397, 10.3251), (-8.74899845, 10.229218431), (-8.403653429, 9.959960275))
        make_face()
    extrude(amount=BOSS_EXTRUDE6_4_DEPTH)


with BuildPart() as body_6:
    # Sketch14 → Boss-Extrude7 (new body)
    with BuildSketch(Plane.XY.offset(12.641000008)):
        with BuildLine():
            Line((-4.968041697, -12.7), (-4.968041697, -14.276537141))
            Line((-4.968041697, -14.276537141), (0, -12.95))
            Line((0, -12.95), (0, -12.7))
            Line((0, -12.7), (-1.805600086, -12.2))
            Line((-1.805600086, -12.2), (-2.305600086, -12.2))
            Line((-2.305600086, -12.2), (-2.522106437, -12.575))
            ThreePointArc((-2.522106437, -12.575), (-2.613612788, -12.666506351), (-2.738612788, -12.7))
            Line((-2.738612788, -12.7), (-4.968041697, -12.7))
        make_face()
    extrude(amount=BOSS_EXTRUDE7_DEPTH)


solid = Compound([part_2.part, body_2_2.part, body_3.part, body_4.part, body_5.part, body_6.part])
